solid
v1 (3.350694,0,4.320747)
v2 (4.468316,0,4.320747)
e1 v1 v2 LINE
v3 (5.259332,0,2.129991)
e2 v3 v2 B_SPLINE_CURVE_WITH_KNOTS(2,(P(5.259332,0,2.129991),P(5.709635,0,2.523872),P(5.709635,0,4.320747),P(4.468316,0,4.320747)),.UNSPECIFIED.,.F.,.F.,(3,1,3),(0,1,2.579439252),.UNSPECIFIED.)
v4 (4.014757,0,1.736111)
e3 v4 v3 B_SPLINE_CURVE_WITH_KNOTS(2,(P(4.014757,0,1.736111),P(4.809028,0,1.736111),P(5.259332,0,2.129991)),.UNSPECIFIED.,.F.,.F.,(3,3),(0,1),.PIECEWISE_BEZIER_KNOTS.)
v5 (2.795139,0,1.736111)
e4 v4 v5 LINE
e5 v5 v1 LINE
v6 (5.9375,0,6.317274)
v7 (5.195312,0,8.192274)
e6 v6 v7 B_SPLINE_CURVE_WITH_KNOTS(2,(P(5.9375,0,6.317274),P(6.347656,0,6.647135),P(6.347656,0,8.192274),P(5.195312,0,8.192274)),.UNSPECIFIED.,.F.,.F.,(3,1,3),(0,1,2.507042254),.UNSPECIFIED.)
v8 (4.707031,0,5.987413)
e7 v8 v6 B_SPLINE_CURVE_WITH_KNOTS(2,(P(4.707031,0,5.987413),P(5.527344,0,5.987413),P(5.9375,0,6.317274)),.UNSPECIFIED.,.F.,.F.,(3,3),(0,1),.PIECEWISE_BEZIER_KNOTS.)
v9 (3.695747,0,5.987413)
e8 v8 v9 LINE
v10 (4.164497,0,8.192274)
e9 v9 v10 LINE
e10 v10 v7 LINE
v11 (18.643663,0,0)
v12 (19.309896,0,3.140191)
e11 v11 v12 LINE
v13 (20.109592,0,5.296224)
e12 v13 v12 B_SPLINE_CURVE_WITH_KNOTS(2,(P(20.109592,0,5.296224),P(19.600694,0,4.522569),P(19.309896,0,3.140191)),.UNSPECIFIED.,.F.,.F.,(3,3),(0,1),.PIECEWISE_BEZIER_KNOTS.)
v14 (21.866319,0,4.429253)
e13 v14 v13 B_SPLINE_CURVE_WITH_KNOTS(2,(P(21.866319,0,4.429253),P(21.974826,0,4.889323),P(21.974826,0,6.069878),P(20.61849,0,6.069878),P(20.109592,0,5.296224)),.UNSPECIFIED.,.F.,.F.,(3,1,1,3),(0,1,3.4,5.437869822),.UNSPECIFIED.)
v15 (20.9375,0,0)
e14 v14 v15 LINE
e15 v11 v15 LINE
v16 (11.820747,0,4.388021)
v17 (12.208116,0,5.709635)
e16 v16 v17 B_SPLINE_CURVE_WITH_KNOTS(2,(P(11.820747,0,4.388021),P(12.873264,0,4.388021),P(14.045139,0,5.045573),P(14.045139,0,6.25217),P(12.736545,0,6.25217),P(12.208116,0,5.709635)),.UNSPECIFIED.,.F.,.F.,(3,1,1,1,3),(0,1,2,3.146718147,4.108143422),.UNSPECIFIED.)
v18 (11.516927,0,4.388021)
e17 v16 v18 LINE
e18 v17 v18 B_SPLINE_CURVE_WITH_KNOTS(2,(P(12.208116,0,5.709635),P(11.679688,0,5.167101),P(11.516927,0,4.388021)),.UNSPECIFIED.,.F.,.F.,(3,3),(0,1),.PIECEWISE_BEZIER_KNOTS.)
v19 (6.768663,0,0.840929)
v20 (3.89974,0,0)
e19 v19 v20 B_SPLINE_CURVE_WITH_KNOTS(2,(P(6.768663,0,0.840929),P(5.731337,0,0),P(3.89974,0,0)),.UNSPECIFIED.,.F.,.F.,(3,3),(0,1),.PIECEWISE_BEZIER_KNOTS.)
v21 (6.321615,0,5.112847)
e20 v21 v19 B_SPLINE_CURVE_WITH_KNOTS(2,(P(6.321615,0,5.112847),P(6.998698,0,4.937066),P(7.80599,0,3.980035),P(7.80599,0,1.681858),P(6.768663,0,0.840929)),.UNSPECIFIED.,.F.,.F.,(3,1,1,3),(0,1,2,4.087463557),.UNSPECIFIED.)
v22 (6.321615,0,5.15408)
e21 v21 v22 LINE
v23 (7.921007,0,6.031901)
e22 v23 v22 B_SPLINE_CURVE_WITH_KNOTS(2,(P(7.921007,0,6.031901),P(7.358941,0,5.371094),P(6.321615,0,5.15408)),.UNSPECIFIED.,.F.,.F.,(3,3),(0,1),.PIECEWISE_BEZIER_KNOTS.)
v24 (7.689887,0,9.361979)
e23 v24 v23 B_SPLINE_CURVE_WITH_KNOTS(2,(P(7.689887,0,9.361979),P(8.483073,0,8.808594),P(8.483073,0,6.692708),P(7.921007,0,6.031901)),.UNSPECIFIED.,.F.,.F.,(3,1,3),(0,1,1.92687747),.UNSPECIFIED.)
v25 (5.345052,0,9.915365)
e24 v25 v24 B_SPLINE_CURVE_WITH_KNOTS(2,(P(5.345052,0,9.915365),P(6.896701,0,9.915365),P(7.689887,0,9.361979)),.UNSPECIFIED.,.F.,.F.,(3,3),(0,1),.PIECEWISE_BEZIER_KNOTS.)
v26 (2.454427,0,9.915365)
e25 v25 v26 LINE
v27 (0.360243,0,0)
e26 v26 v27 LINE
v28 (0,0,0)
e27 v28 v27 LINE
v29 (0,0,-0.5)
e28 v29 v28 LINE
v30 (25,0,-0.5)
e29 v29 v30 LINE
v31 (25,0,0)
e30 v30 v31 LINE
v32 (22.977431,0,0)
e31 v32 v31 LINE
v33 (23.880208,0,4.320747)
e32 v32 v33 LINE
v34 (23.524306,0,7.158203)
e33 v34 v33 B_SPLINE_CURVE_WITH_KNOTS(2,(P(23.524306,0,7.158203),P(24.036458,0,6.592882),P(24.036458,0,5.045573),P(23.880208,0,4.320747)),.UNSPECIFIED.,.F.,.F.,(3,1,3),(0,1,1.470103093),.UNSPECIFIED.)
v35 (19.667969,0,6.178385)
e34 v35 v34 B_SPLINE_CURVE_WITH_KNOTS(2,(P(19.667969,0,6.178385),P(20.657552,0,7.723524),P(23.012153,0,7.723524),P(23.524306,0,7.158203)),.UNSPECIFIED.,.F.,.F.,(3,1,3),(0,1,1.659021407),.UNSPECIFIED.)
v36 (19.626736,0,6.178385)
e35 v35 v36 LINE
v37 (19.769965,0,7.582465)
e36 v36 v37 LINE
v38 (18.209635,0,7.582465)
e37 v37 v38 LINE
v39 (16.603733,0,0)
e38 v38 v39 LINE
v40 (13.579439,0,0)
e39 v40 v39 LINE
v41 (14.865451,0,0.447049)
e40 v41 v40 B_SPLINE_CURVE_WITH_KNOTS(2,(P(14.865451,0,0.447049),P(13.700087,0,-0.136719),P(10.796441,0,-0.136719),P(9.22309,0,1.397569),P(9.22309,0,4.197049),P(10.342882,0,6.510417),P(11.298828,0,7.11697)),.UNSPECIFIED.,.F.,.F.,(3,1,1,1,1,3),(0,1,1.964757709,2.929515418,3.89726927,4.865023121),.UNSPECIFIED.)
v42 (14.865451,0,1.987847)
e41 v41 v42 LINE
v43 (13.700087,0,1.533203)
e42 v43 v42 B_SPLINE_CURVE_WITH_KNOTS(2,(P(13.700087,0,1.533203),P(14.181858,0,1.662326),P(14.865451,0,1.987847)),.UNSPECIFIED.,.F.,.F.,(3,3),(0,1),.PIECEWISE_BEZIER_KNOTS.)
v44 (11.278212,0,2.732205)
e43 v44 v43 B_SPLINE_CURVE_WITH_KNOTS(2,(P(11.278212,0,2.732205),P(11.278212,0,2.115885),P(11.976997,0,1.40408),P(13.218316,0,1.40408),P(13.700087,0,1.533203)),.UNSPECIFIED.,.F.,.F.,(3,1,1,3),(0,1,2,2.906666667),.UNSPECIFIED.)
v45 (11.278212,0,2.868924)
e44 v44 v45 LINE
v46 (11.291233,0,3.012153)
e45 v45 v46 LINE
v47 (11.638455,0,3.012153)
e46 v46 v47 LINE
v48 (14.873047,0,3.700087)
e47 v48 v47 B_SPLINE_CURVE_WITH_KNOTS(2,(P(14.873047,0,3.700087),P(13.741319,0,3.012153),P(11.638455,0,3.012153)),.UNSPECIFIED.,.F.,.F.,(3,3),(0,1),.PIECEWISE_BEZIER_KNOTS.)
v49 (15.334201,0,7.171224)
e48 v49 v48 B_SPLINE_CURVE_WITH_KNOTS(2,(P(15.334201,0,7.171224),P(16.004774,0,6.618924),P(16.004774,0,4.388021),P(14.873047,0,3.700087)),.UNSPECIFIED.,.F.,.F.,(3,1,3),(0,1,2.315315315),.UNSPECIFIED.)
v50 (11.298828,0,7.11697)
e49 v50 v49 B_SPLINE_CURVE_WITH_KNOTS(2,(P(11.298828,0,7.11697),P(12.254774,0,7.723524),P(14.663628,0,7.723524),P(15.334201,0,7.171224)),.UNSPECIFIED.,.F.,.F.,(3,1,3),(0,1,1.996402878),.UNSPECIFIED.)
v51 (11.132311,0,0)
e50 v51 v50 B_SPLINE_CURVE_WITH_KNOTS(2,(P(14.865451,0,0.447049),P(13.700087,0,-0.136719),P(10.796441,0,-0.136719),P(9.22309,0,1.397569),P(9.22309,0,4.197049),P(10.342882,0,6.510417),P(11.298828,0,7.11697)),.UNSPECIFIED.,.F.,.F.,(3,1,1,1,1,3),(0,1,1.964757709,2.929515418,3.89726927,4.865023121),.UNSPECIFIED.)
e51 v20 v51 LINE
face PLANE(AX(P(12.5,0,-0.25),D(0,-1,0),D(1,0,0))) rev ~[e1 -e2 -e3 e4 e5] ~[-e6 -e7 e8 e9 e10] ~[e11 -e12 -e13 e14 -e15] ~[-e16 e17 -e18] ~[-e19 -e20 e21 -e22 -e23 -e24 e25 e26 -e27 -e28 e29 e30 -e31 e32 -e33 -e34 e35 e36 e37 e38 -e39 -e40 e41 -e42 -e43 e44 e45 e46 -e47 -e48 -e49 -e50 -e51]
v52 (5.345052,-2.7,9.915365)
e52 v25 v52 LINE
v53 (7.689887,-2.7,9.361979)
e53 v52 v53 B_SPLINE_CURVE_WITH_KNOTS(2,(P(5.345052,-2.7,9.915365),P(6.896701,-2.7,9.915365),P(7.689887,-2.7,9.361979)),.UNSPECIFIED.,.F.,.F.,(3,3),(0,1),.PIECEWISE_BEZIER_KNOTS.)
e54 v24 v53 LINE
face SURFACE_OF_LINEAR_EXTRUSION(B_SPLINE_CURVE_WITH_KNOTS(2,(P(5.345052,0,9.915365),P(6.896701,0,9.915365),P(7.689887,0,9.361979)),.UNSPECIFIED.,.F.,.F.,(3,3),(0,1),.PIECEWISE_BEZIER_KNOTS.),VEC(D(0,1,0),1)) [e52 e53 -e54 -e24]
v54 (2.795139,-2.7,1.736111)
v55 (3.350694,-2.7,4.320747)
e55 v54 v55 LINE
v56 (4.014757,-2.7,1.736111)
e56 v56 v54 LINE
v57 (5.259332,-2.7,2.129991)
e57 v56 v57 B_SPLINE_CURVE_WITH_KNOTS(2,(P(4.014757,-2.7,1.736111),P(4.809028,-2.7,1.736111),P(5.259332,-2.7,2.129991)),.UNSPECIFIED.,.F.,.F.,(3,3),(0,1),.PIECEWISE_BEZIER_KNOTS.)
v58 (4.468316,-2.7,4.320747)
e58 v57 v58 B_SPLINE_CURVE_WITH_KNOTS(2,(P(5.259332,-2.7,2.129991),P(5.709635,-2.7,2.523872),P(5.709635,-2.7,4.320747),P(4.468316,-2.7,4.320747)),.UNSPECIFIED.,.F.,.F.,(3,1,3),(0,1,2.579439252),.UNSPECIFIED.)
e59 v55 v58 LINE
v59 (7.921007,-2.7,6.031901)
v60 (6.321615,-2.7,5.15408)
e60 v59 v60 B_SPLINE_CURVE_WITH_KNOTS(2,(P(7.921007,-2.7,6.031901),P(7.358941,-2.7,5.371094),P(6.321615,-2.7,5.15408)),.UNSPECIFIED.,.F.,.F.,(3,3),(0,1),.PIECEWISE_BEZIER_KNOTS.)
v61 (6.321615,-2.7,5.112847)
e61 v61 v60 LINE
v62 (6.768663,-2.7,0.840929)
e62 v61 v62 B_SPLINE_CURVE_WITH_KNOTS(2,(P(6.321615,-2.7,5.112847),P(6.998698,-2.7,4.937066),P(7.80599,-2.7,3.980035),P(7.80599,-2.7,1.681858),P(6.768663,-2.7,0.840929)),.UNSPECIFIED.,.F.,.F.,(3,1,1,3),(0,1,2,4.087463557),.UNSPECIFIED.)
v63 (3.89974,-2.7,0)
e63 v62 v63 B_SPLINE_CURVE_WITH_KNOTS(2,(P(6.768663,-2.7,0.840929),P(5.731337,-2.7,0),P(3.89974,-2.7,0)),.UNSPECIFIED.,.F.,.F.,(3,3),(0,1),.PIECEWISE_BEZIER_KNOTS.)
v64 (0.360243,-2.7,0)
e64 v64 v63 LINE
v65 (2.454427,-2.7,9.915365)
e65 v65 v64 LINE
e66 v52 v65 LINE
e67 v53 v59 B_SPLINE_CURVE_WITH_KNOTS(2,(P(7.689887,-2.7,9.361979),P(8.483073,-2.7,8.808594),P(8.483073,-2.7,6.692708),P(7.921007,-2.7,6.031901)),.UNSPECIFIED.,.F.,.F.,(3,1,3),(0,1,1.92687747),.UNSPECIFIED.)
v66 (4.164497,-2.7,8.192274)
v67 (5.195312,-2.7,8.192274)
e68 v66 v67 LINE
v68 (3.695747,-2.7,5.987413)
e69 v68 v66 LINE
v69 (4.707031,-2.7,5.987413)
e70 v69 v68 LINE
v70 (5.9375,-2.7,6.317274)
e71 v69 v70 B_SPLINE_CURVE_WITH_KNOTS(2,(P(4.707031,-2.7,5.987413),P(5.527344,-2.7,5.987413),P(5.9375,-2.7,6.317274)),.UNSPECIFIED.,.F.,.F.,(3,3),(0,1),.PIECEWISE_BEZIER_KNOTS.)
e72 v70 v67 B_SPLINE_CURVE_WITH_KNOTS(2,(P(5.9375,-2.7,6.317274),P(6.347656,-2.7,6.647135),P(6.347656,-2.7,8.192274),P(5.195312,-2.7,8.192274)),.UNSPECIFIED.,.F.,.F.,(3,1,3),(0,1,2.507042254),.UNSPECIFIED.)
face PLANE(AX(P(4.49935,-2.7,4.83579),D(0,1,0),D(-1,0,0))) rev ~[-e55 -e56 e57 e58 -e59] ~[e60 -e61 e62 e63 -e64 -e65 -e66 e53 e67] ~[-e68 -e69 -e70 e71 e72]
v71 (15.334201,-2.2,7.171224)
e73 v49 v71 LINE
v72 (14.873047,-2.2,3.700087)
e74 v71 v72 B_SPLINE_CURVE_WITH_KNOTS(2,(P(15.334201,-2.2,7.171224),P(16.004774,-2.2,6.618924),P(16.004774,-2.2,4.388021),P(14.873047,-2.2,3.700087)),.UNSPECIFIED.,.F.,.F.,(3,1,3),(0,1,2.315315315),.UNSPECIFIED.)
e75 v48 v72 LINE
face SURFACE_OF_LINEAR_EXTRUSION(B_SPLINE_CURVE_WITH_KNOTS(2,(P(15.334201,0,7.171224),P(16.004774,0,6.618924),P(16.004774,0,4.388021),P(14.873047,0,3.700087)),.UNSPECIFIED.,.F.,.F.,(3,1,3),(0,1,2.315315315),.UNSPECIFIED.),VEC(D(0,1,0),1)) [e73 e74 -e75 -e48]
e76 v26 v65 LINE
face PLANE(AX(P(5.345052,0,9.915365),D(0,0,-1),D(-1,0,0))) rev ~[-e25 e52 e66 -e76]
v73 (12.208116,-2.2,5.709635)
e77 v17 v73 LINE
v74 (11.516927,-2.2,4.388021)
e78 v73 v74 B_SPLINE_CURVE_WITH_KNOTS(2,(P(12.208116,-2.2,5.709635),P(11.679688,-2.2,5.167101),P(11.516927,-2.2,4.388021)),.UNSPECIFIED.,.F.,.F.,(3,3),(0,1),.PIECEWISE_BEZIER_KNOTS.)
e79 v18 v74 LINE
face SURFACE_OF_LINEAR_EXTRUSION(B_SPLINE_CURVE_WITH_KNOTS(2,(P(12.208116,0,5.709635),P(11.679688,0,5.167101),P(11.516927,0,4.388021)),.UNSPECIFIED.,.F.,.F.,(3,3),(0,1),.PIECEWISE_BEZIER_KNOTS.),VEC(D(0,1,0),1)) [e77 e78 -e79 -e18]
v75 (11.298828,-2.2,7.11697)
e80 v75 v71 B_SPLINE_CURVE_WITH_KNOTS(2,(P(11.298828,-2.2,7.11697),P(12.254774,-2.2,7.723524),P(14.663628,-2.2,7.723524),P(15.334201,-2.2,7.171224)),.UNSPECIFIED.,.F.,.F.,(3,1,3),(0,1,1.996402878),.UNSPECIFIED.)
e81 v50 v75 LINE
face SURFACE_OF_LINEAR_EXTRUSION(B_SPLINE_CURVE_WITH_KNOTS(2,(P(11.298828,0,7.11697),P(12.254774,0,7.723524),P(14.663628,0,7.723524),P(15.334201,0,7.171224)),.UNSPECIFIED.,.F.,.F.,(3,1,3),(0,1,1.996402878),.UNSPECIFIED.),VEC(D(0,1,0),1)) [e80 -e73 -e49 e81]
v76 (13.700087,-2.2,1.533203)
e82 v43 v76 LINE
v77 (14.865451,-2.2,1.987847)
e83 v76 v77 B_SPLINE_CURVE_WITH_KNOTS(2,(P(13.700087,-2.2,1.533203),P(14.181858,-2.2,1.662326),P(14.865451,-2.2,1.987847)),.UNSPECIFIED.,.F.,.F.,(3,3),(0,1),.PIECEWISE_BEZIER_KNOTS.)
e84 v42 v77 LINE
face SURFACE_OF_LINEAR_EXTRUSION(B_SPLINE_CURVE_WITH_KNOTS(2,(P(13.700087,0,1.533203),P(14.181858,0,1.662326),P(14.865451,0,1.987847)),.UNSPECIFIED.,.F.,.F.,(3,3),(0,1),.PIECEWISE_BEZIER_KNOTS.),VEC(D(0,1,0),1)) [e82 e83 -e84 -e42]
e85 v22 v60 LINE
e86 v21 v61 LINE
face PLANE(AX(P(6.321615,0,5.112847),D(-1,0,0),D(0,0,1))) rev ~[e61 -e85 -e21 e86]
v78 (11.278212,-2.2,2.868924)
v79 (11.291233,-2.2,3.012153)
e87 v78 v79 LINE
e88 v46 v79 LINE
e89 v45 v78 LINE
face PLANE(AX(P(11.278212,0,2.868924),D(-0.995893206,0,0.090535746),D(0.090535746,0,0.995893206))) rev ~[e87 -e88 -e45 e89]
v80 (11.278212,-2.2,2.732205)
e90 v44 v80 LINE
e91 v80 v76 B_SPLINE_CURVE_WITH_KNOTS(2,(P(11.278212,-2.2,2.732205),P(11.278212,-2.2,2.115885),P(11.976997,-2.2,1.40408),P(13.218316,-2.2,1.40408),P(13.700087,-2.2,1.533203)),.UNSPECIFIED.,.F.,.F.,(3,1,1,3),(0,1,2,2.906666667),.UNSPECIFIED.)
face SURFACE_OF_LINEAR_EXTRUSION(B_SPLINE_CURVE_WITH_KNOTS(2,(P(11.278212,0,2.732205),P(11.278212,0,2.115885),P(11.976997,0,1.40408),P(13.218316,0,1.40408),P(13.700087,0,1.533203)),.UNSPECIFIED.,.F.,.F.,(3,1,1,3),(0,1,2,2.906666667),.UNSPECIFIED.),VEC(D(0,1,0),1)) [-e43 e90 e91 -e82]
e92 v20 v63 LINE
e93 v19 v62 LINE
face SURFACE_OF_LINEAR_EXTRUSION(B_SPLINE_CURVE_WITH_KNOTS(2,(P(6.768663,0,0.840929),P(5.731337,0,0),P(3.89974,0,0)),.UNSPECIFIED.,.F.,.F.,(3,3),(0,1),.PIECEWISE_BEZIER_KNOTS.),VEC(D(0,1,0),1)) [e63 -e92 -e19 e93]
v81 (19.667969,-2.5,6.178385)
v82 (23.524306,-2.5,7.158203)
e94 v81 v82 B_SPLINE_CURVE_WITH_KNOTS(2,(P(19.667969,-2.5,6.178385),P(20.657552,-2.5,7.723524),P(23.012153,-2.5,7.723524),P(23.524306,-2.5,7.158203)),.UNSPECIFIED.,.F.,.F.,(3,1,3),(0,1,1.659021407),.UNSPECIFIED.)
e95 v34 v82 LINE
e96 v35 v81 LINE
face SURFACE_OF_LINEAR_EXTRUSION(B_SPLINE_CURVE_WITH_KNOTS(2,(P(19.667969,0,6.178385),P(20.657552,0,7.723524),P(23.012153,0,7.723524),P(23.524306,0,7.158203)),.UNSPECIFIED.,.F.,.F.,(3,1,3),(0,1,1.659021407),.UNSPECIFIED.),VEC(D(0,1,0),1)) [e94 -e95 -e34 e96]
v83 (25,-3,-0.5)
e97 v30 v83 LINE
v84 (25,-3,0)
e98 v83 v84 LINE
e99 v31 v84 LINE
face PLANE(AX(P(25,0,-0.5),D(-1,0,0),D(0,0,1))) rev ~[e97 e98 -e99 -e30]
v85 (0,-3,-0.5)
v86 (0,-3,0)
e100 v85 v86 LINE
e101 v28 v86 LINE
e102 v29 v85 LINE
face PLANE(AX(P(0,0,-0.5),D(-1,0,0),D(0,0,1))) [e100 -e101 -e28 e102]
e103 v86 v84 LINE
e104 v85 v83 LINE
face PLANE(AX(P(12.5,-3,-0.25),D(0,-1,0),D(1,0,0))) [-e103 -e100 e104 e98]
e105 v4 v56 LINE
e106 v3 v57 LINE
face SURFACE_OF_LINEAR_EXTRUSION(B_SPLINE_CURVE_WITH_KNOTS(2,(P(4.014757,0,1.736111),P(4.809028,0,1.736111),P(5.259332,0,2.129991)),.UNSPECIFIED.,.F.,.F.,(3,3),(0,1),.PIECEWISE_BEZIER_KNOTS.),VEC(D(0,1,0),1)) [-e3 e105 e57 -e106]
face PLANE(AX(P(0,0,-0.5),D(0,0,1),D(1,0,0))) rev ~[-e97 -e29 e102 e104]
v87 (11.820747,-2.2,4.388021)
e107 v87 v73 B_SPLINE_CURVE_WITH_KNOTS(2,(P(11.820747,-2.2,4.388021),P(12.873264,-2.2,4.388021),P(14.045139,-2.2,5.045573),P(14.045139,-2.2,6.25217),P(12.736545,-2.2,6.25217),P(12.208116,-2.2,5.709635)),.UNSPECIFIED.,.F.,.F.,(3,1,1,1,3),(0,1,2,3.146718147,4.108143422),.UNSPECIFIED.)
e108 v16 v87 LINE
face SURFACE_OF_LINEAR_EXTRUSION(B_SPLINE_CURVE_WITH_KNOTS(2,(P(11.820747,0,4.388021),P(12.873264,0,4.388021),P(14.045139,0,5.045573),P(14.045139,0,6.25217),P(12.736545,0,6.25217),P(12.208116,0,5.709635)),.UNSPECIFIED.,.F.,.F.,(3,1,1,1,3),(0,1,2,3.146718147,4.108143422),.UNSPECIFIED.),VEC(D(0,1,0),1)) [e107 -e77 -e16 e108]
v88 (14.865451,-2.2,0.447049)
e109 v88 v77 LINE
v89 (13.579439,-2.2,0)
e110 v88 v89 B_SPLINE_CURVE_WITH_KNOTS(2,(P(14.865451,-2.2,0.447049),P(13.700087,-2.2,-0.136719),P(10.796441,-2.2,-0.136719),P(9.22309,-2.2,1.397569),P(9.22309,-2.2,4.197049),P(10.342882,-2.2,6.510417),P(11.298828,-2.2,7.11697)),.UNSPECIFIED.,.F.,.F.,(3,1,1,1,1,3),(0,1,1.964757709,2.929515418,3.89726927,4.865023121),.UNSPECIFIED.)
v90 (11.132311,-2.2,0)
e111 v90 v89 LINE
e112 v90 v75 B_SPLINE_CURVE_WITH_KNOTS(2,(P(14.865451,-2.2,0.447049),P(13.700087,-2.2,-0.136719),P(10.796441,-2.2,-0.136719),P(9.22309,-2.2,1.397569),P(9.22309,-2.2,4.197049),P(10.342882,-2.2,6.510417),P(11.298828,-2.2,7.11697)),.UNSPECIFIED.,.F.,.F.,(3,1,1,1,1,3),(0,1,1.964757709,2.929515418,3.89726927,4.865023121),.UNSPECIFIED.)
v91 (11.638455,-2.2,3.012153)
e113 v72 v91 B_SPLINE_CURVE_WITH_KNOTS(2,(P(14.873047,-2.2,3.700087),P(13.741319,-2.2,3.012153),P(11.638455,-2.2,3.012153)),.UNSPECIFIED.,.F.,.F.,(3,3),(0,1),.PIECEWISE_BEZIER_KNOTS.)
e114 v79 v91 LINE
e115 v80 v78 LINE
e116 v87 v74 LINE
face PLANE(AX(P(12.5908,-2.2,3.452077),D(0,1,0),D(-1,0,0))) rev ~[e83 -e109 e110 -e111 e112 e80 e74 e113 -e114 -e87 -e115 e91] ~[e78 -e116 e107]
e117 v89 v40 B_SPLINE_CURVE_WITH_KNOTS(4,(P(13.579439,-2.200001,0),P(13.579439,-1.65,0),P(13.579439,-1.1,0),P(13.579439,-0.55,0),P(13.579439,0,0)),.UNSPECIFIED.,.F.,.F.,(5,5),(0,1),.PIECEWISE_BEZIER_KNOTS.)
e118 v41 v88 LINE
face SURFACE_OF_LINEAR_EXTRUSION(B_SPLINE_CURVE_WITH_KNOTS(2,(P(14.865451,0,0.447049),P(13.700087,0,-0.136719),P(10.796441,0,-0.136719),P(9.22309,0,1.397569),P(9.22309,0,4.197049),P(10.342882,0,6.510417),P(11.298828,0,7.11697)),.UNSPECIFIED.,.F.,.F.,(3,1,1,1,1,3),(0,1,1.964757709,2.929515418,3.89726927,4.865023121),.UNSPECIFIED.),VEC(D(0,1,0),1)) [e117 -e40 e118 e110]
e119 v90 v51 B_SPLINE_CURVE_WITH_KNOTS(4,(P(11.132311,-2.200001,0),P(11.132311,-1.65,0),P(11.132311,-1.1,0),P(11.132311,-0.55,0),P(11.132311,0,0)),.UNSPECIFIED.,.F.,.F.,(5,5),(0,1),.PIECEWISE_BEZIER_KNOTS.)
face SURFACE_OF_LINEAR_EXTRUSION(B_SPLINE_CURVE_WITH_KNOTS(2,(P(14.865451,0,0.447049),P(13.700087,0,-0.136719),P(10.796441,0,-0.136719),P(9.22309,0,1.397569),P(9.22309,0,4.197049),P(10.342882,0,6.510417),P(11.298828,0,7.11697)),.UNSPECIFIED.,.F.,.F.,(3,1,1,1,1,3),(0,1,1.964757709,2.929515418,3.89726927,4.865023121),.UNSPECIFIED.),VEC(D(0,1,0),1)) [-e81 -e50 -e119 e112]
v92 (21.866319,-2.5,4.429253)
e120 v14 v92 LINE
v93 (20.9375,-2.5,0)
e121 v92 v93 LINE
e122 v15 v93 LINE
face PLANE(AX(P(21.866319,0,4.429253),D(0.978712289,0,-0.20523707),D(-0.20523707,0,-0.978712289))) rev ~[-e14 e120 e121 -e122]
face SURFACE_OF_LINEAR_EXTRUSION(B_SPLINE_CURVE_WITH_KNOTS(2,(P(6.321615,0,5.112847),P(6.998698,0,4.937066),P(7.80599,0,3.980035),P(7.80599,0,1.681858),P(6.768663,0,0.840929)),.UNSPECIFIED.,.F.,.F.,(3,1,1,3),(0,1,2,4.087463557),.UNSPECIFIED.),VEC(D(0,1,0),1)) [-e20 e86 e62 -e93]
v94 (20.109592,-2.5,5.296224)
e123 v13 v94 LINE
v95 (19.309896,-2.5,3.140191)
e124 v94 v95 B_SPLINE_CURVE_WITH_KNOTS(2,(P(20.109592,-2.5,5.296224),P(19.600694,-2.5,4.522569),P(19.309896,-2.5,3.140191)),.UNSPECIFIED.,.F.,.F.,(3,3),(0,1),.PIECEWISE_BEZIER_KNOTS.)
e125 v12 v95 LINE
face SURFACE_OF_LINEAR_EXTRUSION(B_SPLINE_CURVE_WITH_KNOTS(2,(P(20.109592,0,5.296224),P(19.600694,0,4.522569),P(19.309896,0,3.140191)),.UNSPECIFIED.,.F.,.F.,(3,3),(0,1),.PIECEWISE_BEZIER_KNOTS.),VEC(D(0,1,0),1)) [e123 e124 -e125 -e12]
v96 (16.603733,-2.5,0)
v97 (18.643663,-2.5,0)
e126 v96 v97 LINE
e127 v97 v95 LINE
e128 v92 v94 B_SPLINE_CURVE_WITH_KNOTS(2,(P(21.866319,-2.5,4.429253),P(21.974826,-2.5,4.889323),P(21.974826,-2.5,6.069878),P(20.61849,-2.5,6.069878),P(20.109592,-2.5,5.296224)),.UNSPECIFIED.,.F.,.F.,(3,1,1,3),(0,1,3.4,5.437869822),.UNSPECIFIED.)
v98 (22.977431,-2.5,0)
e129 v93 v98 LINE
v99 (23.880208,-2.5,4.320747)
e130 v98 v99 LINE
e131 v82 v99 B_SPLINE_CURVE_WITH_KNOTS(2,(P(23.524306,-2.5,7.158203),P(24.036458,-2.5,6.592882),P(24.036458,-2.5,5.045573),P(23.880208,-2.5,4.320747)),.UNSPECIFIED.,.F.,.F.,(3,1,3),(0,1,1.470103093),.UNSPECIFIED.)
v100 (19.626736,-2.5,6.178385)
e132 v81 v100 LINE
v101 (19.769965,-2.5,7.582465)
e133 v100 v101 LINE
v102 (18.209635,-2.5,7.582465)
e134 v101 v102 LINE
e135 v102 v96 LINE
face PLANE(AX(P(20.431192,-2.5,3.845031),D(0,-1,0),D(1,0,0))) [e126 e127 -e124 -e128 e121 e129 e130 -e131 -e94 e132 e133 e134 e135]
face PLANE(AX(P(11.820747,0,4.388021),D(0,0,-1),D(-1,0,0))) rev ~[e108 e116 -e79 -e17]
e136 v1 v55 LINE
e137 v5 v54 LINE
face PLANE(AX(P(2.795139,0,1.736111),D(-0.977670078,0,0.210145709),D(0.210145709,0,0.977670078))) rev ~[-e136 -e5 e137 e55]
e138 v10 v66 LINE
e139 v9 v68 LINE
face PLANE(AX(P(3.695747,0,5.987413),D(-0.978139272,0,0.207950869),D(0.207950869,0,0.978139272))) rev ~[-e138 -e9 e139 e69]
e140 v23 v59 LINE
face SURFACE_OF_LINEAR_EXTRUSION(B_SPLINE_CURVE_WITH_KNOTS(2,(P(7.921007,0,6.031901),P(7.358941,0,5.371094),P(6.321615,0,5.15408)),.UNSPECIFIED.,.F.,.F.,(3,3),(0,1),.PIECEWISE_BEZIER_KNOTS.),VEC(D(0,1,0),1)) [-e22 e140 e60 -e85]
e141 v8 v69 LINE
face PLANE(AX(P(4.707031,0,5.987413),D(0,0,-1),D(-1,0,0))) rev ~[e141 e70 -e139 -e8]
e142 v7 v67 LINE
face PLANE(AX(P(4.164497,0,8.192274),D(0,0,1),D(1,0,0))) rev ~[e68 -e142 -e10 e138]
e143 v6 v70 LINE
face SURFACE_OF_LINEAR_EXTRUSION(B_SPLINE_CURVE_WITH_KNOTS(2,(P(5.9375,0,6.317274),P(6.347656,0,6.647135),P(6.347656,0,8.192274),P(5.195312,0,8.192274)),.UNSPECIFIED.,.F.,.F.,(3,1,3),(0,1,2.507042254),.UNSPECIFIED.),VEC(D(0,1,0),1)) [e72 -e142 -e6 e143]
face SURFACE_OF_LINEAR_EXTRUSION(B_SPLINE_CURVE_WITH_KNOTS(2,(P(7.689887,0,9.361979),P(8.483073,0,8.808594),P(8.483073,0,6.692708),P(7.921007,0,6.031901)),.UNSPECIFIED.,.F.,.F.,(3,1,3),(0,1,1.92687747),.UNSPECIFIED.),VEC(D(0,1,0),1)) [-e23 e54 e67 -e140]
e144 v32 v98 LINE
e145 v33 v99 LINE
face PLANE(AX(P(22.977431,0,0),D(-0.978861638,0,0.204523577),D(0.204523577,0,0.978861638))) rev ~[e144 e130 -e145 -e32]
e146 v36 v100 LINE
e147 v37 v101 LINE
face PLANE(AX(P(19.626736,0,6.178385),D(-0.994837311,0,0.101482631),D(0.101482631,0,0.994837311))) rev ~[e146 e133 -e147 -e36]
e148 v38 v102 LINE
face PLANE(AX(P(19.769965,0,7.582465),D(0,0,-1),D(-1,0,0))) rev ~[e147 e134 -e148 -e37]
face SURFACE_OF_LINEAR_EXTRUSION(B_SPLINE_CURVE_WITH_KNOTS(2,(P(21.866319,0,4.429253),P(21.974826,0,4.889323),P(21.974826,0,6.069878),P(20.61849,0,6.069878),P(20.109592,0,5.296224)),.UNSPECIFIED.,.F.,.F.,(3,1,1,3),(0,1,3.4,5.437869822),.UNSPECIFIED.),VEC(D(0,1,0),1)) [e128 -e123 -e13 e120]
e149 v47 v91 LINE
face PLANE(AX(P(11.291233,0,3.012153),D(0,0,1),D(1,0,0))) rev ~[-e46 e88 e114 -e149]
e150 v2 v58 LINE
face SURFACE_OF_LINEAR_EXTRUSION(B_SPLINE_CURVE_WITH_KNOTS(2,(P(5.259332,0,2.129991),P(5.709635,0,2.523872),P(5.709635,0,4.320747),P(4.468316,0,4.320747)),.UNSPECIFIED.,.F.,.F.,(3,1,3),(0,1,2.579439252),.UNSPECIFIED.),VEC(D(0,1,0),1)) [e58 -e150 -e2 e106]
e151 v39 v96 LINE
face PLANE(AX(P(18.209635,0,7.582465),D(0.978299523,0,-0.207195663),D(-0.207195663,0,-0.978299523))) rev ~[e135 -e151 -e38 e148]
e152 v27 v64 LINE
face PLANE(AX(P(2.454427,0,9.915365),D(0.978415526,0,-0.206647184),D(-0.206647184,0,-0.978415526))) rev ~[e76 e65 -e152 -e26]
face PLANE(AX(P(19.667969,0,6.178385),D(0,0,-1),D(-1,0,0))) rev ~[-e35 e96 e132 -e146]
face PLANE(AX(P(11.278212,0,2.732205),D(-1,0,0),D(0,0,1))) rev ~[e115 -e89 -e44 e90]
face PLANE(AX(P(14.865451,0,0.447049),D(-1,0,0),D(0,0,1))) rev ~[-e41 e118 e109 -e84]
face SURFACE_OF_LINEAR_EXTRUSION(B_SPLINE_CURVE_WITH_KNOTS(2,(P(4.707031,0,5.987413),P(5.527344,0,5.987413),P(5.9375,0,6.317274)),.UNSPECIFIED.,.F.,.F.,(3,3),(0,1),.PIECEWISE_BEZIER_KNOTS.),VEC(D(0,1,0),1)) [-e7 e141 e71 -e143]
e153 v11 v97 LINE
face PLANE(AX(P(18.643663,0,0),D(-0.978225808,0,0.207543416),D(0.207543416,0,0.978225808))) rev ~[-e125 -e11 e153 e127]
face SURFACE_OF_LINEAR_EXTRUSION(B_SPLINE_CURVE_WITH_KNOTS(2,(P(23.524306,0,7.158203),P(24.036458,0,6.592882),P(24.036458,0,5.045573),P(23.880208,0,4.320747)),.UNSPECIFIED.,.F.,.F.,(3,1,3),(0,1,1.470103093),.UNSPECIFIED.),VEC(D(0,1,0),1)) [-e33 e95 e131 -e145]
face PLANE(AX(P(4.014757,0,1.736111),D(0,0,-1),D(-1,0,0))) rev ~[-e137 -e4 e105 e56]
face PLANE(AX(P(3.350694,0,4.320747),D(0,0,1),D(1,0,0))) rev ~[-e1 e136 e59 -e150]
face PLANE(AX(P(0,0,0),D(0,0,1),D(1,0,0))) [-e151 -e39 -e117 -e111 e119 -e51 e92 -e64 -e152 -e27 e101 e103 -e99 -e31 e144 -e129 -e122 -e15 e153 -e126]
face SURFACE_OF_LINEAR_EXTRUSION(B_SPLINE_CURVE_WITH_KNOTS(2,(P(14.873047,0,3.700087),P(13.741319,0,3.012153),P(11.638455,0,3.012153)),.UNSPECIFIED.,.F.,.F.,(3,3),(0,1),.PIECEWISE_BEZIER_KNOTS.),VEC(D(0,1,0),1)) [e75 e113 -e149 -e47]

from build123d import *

# Parameters (mm, degrees)
F1_DEPTH = 2.7
F2_DEPTH = 2.2
F3_DEPTH = 2.5
F4_W     = 25
F4_H     = 0.5
F5_DEPTH = 3


with BuildPart() as f1:
    # F0 (on Front) → F1 (new body)
    with BuildSketch(Plane.XZ):
        with BuildLine():
            add(Edge.make_bspline(
                [(5.3450520833, 9.9153645833), (6.8967013889, 9.9153645833), (7.6898871528, 9.3619791667)],
                knots=[0, 0, 0, 1, 1, 1], degree=2))
            Line((5.3450520833, 9.9153645833), (2.4544270833, 9.9153645833))
            Line((2.4544270833, 9.9153645833), (0.3602430556, 0))
            Line((0.3602430556, 0), (3.8997395833, 0))
            add(Edge.make_bspline(
                [(6.7686631944, 0.8409288194), (5.7313368056, 0), (3.8997395833, 0)],
                knots=[0, 0, 0, 1, 1, 1], degree=2))
            add(Edge.make_bspline(
                [(7.8059895833, 3.2356770833), (7.8059895833, 1.6818576389), (6.7686631944, 0.8409288194)],
                knots=[0, 0, 0, 1, 1, 1], degree=2))
            add(Edge.make_bspline(
                [(7.40234375, 4.4585503472), (7.8059895833, 3.9800347222), (7.8059895833, 3.2356770833)],
                knots=[0, 0, 0, 1, 1, 1], degree=2))
            add(Edge.make_bspline(
                [(6.3216145833, 5.1128472222), (6.9986979167, 4.9370659722), (7.40234375, 4.4585503472)],
                knots=[0, 0, 0, 1, 1, 1], degree=2))
            Line((6.3216145833, 5.1128472222), (6.3216145833, 5.1540798611))
            add(Edge.make_bspline(
                [(7.9210069444, 6.0319010417), (7.3589409722, 5.37109375), (6.3216145833, 5.1540798611)],
                knots=[0, 0, 0, 1, 1, 1], degree=2))
            add(Edge.make_bspline(
                [(8.4830729167, 7.7105034722), (8.4830729167, 6.6927083333), (7.9210069444, 6.0319010417)],
                knots=[0, 0, 0, 1, 1, 1], degree=2))
            add(Edge.make_bspline(
                [(7.6898871528, 9.3619791667), (8.4830729167, 8.80859375), (8.4830729167, 7.7105034722)],
                knots=[0, 0, 0, 1, 1, 1], degree=2))
        make_face()
        with BuildLine():
            Line((4.0147569444, 1.7361111111), (2.7951388889, 1.7361111111))
            Line((2.7951388889, 1.7361111111), (3.3506944444, 4.3207465278))
            Line((3.3506944444, 4.3207465278), (4.4683159722, 4.3207465278))
            add(Edge.make_bspline(
                [(5.7096354167, 3.2204861111), (5.7096354167, 4.3207465278), (4.4683159722, 4.3207465278)],
                knots=[0, 0, 0, 1, 1, 1], degree=2))
            add(Edge.make_bspline(
                [(5.2593315972, 2.1299913194), (5.7096354167, 2.5238715278), (5.7096354167, 3.2204861111)],
                knots=[0, 0, 0, 1, 1, 1], degree=2))
            add(Edge.make_bspline(
                [(4.0147569444, 1.7361111111), (4.8090277778, 1.7361111111), (5.2593315972, 2.1299913194)],
                knots=[0, 0, 0, 1, 1, 1], degree=2))
        make_face(mode=Mode.SUBTRACT)
        with BuildLine():
            Line((4.70703125, 5.9874131944), (3.6957465278, 5.9874131944))
            Line((3.6957465278, 5.9874131944), (4.1644965278, 8.1922743056))
            Line((4.1644965278, 8.1922743056), (5.1953125, 8.1922743056))
            add(Edge.make_bspline(
                [(6.34765625, 7.2634548611), (6.34765625, 8.1922743056), (5.1953125, 8.1922743056)],
                knots=[0, 0, 0, 1, 1, 1], degree=2))
            add(Edge.make_bspline(
                [(5.9375, 6.3172743056), (6.34765625, 6.6471354167), (6.34765625, 7.2634548611)],
                knots=[0, 0, 0, 1, 1, 1], degree=2))
            add(Edge.make_bspline(
                [(4.70703125, 5.9874131944), (5.52734375, 5.9874131944), (5.9375, 6.3172743056)],
                knots=[0, 0, 0, 1, 1, 1], degree=2))
        make_face(mode=Mode.SUBTRACT)
    extrude(amount=F1_DEPTH)



with BuildPart() as f2:
    # F0 (on Front) → F2 (new body)
    with BuildSketch(Plane.XZ):
        with BuildLine():
            add(Edge.make_bspline(
                [(12.2222222222, -0.13671875), (10.7964409722, -0.13671875), (10.009765625, 0.6304253472)],
                knots=[0, 0, 0, 1, 1, 1], degree=2))
            add(Edge.make_bspline(
                [(14.8654513889, 0.4470486111), (13.7000868056, -0.13671875), (12.2222222222, -0.13671875)],
                knots=[0, 0, 0, 1, 1, 1], degree=2))
            Line((14.8654513889, 0.4470486111), (14.8654513889, 1.9878472222))
            add(Edge.make_bspline(
                [(13.7000868056, 1.533203125), (14.1818576389, 1.6623263889), (14.8654513889, 1.9878472222)],
                knots=[0, 0, 0, 1, 1, 1], degree=2))
            add(Edge.make_bspline(
                [(12.6280381944, 1.4040798611), (13.2183159722, 1.4040798611), (13.7000868056, 1.533203125)],
                knots=[0, 0, 0, 1, 1, 1], degree=2))
            add(Edge.make_bspline(
                [(11.6276041667, 1.7599826389), (11.9769965278, 1.4040798611), (12.6280381944, 1.4040798611)],
                knots=[0, 0, 0, 1, 1, 1], degree=2))
            add(Edge.make_bspline(
                [(11.2782118056, 2.7322048611), (11.2782118056, 2.1158854167), (11.6276041667, 1.7599826389)],
                knots=[0, 0, 0, 1, 1, 1], degree=2))
            Line((11.2782118056, 2.7322048611), (11.2782118056, 2.8689236111))
            Line((11.2782118056, 2.8689236111), (11.2912326389, 3.0121527778))
            Line((11.2912326389, 3.0121527778), (11.6384548611, 3.0121527778))
            add(Edge.make_bspline(
                [(14.873046875, 3.7000868056), (13.7413194444, 3.0121527778), (11.6384548611, 3.0121527778)],
                knots=[0, 0, 0, 1, 1, 1], degree=2))
            add(Edge.make_bspline(
                [(16.0047743056, 5.6553819444), (16.0047743056, 4.3880208333), (14.873046875, 3.7000868056)],
                knots=[0, 0, 0, 1, 1, 1], degree=2))
            add(Edge.make_bspline(
                [(15.3342013889, 7.1712239583), (16.0047743056, 6.6189236111), (16.0047743056, 5.6553819444)],
                knots=[0, 0, 0, 1, 1, 1], degree=2))
            add(Edge.make_bspline(
                [(13.4613715278, 7.7235243056), (14.6636284722, 7.7235243056), (15.3342013889, 7.1712239583)],
                knots=[0, 0, 0, 1, 1, 1], degree=2))
            add(Edge.make_bspline(
                [(11.298828125, 7.1169704861), (12.2547743056, 7.7235243056), (13.4613715278, 7.7235243056)],
                knots=[0, 0, 0, 1, 1, 1], degree=2))
            add(Edge.make_bspline(
                [(9.7829861111, 5.3537326389), (10.3428819444, 6.5104166667), (11.298828125, 7.1169704861)],
                knots=[0, 0, 0, 1, 1, 1], degree=2))
            add(Edge.make_bspline(
                [(9.2230902778, 2.7951388889), (9.2230902778, 4.1970486111), (9.7829861111, 5.3537326389)],
                knots=[0, 0, 0, 1, 1, 1], degree=2))
            add(Edge.make_bspline(
                [(10.009765625, 0.6304253472), (9.2230902778, 1.3975694444), (9.2230902778, 2.7951388889)],
                knots=[0, 0, 0, 1, 1, 1], degree=2))
        make_face()
        with BuildLine():
            add(Edge.make_bspline(
                [(13.3333333333, 6.2521701389), (12.7365451389, 6.2521701389), (12.2081163194, 5.7096354167)],
                knots=[0, 0, 0, 1, 1, 1], degree=2))
            add(Edge.make_bspline(
                [(14.0451388889, 5.6076388889), (14.0451388889, 6.2521701389), (13.3333333333, 6.2521701389)],
                knots=[0, 0, 0, 1, 1, 1], degree=2))
            add(Edge.make_bspline(
                [(13.4592013889, 4.716796875), (14.0451388889, 5.0455729167), (14.0451388889, 5.6076388889)],
                knots=[0, 0, 0, 1, 1, 1], degree=2))
            add(Edge.make_bspline(
                [(11.8207465278, 4.3880208333), (12.8732638889, 4.3880208333), (13.4592013889, 4.716796875)],
                knots=[0, 0, 0, 1, 1, 1], degree=2))
            Line((11.8207465278, 4.3880208333), (11.5169270833, 4.3880208333))
            add(Edge.make_bspline(
                [(12.2081163194, 5.7096354167), (11.6796875, 5.1671006944), (11.5169270833, 4.3880208333)],
                knots=[0, 0, 0, 1, 1, 1], degree=2))
        make_face(mode=Mode.SUBTRACT)
    extrude(amount=F2_DEPTH)


with BuildPart() as f3:
    # F0 (on Front) → F3 (new body)
    with BuildSketch(Plane.XZ):
        with BuildLine():
            Line((20.9375, 0), (22.9774305556, 0))
            Line((22.9774305556, 0), (23.8802083333, 4.3207465278))
            add(Edge.make_bspline(
                [(24.0364583333, 5.5403645833), (24.0364583333, 5.0455729167), (23.8802083333, 4.3207465278)],
                knots=[0, 0, 0, 1, 1, 1], degree=2))
            add(Edge.make_bspline(
                [(23.5243055556, 7.158203125), (24.0364583333, 6.5928819444), (24.0364583333, 5.5403645833)],
                knots=[0, 0, 0, 1, 1, 1], degree=2))
            add(Edge.make_bspline(
                [(22.0768229167, 7.7235243056), (23.0121527778, 7.7235243056), (23.5243055556, 7.158203125)],
                knots=[0, 0, 0, 1, 1, 1], degree=2))
            add(Edge.make_bspline(
                [(19.66796875, 6.1783854167), (20.6575520833, 7.7235243056), (22.0768229167, 7.7235243056)],
                knots=[0, 0, 0, 1, 1, 1], degree=2))
            Line((19.66796875, 6.1783854167), (19.6267361111, 6.1783854167))
            Line((19.6267361111, 6.1783854167), (19.7699652778, 7.5824652778))
            Line((19.7699652778, 7.5824652778), (18.2096354167, 7.5824652778))
            Line((18.2096354167, 7.5824652778), (16.6037326389, 0))
            Line((16.6037326389, 0), (18.6436631944, 0))
            Line((18.6436631944, 0), (19.3098958333, 3.1401909722))
            add(Edge.make_bspline(
                [(20.1095920139, 5.2962239583), (19.6006944444, 4.5225694444), (19.3098958333, 3.1401909722)],
                knots=[0, 0, 0, 1, 1, 1], degree=2))
            add(Edge.make_bspline(
                [(21.2413194444, 6.0698784722), (20.6184895833, 6.0698784722), (20.1095920139, 5.2962239583)],
                knots=[0, 0, 0, 1, 1, 1], degree=2))
            add(Edge.make_bspline(
                [(21.9748263889, 5.2365451389), (21.9748263889, 6.0698784722), (21.2413194444, 6.0698784722)],
                knots=[0, 0, 0, 1, 1, 1], degree=2))
            add(Edge.make_bspline(
                [(21.8663194444, 4.4292534722), (21.9748263889, 4.8893229167), (21.9748263889, 5.2365451389)],
                knots=[0, 0, 0, 1, 1, 1], degree=2))
            Line((21.8663194444, 4.4292534722), (20.9375, 0))
        make_face()
    extrude(amount=F3_DEPTH)


with BuildPart() as f1_1:
    add(f1.part)

    add(f2.part)  # F5 merges F2

    add(f3.part)  # F5 merges F3
    # F4 (on Front) → F5 (join)
    with BuildSketch(Plane.XZ):
        with Locations((12.5, -0.25)):
            Rectangle(F4_W, F4_H)
    extrude(amount=F5_DEPTH)


solid = f1_1.part
